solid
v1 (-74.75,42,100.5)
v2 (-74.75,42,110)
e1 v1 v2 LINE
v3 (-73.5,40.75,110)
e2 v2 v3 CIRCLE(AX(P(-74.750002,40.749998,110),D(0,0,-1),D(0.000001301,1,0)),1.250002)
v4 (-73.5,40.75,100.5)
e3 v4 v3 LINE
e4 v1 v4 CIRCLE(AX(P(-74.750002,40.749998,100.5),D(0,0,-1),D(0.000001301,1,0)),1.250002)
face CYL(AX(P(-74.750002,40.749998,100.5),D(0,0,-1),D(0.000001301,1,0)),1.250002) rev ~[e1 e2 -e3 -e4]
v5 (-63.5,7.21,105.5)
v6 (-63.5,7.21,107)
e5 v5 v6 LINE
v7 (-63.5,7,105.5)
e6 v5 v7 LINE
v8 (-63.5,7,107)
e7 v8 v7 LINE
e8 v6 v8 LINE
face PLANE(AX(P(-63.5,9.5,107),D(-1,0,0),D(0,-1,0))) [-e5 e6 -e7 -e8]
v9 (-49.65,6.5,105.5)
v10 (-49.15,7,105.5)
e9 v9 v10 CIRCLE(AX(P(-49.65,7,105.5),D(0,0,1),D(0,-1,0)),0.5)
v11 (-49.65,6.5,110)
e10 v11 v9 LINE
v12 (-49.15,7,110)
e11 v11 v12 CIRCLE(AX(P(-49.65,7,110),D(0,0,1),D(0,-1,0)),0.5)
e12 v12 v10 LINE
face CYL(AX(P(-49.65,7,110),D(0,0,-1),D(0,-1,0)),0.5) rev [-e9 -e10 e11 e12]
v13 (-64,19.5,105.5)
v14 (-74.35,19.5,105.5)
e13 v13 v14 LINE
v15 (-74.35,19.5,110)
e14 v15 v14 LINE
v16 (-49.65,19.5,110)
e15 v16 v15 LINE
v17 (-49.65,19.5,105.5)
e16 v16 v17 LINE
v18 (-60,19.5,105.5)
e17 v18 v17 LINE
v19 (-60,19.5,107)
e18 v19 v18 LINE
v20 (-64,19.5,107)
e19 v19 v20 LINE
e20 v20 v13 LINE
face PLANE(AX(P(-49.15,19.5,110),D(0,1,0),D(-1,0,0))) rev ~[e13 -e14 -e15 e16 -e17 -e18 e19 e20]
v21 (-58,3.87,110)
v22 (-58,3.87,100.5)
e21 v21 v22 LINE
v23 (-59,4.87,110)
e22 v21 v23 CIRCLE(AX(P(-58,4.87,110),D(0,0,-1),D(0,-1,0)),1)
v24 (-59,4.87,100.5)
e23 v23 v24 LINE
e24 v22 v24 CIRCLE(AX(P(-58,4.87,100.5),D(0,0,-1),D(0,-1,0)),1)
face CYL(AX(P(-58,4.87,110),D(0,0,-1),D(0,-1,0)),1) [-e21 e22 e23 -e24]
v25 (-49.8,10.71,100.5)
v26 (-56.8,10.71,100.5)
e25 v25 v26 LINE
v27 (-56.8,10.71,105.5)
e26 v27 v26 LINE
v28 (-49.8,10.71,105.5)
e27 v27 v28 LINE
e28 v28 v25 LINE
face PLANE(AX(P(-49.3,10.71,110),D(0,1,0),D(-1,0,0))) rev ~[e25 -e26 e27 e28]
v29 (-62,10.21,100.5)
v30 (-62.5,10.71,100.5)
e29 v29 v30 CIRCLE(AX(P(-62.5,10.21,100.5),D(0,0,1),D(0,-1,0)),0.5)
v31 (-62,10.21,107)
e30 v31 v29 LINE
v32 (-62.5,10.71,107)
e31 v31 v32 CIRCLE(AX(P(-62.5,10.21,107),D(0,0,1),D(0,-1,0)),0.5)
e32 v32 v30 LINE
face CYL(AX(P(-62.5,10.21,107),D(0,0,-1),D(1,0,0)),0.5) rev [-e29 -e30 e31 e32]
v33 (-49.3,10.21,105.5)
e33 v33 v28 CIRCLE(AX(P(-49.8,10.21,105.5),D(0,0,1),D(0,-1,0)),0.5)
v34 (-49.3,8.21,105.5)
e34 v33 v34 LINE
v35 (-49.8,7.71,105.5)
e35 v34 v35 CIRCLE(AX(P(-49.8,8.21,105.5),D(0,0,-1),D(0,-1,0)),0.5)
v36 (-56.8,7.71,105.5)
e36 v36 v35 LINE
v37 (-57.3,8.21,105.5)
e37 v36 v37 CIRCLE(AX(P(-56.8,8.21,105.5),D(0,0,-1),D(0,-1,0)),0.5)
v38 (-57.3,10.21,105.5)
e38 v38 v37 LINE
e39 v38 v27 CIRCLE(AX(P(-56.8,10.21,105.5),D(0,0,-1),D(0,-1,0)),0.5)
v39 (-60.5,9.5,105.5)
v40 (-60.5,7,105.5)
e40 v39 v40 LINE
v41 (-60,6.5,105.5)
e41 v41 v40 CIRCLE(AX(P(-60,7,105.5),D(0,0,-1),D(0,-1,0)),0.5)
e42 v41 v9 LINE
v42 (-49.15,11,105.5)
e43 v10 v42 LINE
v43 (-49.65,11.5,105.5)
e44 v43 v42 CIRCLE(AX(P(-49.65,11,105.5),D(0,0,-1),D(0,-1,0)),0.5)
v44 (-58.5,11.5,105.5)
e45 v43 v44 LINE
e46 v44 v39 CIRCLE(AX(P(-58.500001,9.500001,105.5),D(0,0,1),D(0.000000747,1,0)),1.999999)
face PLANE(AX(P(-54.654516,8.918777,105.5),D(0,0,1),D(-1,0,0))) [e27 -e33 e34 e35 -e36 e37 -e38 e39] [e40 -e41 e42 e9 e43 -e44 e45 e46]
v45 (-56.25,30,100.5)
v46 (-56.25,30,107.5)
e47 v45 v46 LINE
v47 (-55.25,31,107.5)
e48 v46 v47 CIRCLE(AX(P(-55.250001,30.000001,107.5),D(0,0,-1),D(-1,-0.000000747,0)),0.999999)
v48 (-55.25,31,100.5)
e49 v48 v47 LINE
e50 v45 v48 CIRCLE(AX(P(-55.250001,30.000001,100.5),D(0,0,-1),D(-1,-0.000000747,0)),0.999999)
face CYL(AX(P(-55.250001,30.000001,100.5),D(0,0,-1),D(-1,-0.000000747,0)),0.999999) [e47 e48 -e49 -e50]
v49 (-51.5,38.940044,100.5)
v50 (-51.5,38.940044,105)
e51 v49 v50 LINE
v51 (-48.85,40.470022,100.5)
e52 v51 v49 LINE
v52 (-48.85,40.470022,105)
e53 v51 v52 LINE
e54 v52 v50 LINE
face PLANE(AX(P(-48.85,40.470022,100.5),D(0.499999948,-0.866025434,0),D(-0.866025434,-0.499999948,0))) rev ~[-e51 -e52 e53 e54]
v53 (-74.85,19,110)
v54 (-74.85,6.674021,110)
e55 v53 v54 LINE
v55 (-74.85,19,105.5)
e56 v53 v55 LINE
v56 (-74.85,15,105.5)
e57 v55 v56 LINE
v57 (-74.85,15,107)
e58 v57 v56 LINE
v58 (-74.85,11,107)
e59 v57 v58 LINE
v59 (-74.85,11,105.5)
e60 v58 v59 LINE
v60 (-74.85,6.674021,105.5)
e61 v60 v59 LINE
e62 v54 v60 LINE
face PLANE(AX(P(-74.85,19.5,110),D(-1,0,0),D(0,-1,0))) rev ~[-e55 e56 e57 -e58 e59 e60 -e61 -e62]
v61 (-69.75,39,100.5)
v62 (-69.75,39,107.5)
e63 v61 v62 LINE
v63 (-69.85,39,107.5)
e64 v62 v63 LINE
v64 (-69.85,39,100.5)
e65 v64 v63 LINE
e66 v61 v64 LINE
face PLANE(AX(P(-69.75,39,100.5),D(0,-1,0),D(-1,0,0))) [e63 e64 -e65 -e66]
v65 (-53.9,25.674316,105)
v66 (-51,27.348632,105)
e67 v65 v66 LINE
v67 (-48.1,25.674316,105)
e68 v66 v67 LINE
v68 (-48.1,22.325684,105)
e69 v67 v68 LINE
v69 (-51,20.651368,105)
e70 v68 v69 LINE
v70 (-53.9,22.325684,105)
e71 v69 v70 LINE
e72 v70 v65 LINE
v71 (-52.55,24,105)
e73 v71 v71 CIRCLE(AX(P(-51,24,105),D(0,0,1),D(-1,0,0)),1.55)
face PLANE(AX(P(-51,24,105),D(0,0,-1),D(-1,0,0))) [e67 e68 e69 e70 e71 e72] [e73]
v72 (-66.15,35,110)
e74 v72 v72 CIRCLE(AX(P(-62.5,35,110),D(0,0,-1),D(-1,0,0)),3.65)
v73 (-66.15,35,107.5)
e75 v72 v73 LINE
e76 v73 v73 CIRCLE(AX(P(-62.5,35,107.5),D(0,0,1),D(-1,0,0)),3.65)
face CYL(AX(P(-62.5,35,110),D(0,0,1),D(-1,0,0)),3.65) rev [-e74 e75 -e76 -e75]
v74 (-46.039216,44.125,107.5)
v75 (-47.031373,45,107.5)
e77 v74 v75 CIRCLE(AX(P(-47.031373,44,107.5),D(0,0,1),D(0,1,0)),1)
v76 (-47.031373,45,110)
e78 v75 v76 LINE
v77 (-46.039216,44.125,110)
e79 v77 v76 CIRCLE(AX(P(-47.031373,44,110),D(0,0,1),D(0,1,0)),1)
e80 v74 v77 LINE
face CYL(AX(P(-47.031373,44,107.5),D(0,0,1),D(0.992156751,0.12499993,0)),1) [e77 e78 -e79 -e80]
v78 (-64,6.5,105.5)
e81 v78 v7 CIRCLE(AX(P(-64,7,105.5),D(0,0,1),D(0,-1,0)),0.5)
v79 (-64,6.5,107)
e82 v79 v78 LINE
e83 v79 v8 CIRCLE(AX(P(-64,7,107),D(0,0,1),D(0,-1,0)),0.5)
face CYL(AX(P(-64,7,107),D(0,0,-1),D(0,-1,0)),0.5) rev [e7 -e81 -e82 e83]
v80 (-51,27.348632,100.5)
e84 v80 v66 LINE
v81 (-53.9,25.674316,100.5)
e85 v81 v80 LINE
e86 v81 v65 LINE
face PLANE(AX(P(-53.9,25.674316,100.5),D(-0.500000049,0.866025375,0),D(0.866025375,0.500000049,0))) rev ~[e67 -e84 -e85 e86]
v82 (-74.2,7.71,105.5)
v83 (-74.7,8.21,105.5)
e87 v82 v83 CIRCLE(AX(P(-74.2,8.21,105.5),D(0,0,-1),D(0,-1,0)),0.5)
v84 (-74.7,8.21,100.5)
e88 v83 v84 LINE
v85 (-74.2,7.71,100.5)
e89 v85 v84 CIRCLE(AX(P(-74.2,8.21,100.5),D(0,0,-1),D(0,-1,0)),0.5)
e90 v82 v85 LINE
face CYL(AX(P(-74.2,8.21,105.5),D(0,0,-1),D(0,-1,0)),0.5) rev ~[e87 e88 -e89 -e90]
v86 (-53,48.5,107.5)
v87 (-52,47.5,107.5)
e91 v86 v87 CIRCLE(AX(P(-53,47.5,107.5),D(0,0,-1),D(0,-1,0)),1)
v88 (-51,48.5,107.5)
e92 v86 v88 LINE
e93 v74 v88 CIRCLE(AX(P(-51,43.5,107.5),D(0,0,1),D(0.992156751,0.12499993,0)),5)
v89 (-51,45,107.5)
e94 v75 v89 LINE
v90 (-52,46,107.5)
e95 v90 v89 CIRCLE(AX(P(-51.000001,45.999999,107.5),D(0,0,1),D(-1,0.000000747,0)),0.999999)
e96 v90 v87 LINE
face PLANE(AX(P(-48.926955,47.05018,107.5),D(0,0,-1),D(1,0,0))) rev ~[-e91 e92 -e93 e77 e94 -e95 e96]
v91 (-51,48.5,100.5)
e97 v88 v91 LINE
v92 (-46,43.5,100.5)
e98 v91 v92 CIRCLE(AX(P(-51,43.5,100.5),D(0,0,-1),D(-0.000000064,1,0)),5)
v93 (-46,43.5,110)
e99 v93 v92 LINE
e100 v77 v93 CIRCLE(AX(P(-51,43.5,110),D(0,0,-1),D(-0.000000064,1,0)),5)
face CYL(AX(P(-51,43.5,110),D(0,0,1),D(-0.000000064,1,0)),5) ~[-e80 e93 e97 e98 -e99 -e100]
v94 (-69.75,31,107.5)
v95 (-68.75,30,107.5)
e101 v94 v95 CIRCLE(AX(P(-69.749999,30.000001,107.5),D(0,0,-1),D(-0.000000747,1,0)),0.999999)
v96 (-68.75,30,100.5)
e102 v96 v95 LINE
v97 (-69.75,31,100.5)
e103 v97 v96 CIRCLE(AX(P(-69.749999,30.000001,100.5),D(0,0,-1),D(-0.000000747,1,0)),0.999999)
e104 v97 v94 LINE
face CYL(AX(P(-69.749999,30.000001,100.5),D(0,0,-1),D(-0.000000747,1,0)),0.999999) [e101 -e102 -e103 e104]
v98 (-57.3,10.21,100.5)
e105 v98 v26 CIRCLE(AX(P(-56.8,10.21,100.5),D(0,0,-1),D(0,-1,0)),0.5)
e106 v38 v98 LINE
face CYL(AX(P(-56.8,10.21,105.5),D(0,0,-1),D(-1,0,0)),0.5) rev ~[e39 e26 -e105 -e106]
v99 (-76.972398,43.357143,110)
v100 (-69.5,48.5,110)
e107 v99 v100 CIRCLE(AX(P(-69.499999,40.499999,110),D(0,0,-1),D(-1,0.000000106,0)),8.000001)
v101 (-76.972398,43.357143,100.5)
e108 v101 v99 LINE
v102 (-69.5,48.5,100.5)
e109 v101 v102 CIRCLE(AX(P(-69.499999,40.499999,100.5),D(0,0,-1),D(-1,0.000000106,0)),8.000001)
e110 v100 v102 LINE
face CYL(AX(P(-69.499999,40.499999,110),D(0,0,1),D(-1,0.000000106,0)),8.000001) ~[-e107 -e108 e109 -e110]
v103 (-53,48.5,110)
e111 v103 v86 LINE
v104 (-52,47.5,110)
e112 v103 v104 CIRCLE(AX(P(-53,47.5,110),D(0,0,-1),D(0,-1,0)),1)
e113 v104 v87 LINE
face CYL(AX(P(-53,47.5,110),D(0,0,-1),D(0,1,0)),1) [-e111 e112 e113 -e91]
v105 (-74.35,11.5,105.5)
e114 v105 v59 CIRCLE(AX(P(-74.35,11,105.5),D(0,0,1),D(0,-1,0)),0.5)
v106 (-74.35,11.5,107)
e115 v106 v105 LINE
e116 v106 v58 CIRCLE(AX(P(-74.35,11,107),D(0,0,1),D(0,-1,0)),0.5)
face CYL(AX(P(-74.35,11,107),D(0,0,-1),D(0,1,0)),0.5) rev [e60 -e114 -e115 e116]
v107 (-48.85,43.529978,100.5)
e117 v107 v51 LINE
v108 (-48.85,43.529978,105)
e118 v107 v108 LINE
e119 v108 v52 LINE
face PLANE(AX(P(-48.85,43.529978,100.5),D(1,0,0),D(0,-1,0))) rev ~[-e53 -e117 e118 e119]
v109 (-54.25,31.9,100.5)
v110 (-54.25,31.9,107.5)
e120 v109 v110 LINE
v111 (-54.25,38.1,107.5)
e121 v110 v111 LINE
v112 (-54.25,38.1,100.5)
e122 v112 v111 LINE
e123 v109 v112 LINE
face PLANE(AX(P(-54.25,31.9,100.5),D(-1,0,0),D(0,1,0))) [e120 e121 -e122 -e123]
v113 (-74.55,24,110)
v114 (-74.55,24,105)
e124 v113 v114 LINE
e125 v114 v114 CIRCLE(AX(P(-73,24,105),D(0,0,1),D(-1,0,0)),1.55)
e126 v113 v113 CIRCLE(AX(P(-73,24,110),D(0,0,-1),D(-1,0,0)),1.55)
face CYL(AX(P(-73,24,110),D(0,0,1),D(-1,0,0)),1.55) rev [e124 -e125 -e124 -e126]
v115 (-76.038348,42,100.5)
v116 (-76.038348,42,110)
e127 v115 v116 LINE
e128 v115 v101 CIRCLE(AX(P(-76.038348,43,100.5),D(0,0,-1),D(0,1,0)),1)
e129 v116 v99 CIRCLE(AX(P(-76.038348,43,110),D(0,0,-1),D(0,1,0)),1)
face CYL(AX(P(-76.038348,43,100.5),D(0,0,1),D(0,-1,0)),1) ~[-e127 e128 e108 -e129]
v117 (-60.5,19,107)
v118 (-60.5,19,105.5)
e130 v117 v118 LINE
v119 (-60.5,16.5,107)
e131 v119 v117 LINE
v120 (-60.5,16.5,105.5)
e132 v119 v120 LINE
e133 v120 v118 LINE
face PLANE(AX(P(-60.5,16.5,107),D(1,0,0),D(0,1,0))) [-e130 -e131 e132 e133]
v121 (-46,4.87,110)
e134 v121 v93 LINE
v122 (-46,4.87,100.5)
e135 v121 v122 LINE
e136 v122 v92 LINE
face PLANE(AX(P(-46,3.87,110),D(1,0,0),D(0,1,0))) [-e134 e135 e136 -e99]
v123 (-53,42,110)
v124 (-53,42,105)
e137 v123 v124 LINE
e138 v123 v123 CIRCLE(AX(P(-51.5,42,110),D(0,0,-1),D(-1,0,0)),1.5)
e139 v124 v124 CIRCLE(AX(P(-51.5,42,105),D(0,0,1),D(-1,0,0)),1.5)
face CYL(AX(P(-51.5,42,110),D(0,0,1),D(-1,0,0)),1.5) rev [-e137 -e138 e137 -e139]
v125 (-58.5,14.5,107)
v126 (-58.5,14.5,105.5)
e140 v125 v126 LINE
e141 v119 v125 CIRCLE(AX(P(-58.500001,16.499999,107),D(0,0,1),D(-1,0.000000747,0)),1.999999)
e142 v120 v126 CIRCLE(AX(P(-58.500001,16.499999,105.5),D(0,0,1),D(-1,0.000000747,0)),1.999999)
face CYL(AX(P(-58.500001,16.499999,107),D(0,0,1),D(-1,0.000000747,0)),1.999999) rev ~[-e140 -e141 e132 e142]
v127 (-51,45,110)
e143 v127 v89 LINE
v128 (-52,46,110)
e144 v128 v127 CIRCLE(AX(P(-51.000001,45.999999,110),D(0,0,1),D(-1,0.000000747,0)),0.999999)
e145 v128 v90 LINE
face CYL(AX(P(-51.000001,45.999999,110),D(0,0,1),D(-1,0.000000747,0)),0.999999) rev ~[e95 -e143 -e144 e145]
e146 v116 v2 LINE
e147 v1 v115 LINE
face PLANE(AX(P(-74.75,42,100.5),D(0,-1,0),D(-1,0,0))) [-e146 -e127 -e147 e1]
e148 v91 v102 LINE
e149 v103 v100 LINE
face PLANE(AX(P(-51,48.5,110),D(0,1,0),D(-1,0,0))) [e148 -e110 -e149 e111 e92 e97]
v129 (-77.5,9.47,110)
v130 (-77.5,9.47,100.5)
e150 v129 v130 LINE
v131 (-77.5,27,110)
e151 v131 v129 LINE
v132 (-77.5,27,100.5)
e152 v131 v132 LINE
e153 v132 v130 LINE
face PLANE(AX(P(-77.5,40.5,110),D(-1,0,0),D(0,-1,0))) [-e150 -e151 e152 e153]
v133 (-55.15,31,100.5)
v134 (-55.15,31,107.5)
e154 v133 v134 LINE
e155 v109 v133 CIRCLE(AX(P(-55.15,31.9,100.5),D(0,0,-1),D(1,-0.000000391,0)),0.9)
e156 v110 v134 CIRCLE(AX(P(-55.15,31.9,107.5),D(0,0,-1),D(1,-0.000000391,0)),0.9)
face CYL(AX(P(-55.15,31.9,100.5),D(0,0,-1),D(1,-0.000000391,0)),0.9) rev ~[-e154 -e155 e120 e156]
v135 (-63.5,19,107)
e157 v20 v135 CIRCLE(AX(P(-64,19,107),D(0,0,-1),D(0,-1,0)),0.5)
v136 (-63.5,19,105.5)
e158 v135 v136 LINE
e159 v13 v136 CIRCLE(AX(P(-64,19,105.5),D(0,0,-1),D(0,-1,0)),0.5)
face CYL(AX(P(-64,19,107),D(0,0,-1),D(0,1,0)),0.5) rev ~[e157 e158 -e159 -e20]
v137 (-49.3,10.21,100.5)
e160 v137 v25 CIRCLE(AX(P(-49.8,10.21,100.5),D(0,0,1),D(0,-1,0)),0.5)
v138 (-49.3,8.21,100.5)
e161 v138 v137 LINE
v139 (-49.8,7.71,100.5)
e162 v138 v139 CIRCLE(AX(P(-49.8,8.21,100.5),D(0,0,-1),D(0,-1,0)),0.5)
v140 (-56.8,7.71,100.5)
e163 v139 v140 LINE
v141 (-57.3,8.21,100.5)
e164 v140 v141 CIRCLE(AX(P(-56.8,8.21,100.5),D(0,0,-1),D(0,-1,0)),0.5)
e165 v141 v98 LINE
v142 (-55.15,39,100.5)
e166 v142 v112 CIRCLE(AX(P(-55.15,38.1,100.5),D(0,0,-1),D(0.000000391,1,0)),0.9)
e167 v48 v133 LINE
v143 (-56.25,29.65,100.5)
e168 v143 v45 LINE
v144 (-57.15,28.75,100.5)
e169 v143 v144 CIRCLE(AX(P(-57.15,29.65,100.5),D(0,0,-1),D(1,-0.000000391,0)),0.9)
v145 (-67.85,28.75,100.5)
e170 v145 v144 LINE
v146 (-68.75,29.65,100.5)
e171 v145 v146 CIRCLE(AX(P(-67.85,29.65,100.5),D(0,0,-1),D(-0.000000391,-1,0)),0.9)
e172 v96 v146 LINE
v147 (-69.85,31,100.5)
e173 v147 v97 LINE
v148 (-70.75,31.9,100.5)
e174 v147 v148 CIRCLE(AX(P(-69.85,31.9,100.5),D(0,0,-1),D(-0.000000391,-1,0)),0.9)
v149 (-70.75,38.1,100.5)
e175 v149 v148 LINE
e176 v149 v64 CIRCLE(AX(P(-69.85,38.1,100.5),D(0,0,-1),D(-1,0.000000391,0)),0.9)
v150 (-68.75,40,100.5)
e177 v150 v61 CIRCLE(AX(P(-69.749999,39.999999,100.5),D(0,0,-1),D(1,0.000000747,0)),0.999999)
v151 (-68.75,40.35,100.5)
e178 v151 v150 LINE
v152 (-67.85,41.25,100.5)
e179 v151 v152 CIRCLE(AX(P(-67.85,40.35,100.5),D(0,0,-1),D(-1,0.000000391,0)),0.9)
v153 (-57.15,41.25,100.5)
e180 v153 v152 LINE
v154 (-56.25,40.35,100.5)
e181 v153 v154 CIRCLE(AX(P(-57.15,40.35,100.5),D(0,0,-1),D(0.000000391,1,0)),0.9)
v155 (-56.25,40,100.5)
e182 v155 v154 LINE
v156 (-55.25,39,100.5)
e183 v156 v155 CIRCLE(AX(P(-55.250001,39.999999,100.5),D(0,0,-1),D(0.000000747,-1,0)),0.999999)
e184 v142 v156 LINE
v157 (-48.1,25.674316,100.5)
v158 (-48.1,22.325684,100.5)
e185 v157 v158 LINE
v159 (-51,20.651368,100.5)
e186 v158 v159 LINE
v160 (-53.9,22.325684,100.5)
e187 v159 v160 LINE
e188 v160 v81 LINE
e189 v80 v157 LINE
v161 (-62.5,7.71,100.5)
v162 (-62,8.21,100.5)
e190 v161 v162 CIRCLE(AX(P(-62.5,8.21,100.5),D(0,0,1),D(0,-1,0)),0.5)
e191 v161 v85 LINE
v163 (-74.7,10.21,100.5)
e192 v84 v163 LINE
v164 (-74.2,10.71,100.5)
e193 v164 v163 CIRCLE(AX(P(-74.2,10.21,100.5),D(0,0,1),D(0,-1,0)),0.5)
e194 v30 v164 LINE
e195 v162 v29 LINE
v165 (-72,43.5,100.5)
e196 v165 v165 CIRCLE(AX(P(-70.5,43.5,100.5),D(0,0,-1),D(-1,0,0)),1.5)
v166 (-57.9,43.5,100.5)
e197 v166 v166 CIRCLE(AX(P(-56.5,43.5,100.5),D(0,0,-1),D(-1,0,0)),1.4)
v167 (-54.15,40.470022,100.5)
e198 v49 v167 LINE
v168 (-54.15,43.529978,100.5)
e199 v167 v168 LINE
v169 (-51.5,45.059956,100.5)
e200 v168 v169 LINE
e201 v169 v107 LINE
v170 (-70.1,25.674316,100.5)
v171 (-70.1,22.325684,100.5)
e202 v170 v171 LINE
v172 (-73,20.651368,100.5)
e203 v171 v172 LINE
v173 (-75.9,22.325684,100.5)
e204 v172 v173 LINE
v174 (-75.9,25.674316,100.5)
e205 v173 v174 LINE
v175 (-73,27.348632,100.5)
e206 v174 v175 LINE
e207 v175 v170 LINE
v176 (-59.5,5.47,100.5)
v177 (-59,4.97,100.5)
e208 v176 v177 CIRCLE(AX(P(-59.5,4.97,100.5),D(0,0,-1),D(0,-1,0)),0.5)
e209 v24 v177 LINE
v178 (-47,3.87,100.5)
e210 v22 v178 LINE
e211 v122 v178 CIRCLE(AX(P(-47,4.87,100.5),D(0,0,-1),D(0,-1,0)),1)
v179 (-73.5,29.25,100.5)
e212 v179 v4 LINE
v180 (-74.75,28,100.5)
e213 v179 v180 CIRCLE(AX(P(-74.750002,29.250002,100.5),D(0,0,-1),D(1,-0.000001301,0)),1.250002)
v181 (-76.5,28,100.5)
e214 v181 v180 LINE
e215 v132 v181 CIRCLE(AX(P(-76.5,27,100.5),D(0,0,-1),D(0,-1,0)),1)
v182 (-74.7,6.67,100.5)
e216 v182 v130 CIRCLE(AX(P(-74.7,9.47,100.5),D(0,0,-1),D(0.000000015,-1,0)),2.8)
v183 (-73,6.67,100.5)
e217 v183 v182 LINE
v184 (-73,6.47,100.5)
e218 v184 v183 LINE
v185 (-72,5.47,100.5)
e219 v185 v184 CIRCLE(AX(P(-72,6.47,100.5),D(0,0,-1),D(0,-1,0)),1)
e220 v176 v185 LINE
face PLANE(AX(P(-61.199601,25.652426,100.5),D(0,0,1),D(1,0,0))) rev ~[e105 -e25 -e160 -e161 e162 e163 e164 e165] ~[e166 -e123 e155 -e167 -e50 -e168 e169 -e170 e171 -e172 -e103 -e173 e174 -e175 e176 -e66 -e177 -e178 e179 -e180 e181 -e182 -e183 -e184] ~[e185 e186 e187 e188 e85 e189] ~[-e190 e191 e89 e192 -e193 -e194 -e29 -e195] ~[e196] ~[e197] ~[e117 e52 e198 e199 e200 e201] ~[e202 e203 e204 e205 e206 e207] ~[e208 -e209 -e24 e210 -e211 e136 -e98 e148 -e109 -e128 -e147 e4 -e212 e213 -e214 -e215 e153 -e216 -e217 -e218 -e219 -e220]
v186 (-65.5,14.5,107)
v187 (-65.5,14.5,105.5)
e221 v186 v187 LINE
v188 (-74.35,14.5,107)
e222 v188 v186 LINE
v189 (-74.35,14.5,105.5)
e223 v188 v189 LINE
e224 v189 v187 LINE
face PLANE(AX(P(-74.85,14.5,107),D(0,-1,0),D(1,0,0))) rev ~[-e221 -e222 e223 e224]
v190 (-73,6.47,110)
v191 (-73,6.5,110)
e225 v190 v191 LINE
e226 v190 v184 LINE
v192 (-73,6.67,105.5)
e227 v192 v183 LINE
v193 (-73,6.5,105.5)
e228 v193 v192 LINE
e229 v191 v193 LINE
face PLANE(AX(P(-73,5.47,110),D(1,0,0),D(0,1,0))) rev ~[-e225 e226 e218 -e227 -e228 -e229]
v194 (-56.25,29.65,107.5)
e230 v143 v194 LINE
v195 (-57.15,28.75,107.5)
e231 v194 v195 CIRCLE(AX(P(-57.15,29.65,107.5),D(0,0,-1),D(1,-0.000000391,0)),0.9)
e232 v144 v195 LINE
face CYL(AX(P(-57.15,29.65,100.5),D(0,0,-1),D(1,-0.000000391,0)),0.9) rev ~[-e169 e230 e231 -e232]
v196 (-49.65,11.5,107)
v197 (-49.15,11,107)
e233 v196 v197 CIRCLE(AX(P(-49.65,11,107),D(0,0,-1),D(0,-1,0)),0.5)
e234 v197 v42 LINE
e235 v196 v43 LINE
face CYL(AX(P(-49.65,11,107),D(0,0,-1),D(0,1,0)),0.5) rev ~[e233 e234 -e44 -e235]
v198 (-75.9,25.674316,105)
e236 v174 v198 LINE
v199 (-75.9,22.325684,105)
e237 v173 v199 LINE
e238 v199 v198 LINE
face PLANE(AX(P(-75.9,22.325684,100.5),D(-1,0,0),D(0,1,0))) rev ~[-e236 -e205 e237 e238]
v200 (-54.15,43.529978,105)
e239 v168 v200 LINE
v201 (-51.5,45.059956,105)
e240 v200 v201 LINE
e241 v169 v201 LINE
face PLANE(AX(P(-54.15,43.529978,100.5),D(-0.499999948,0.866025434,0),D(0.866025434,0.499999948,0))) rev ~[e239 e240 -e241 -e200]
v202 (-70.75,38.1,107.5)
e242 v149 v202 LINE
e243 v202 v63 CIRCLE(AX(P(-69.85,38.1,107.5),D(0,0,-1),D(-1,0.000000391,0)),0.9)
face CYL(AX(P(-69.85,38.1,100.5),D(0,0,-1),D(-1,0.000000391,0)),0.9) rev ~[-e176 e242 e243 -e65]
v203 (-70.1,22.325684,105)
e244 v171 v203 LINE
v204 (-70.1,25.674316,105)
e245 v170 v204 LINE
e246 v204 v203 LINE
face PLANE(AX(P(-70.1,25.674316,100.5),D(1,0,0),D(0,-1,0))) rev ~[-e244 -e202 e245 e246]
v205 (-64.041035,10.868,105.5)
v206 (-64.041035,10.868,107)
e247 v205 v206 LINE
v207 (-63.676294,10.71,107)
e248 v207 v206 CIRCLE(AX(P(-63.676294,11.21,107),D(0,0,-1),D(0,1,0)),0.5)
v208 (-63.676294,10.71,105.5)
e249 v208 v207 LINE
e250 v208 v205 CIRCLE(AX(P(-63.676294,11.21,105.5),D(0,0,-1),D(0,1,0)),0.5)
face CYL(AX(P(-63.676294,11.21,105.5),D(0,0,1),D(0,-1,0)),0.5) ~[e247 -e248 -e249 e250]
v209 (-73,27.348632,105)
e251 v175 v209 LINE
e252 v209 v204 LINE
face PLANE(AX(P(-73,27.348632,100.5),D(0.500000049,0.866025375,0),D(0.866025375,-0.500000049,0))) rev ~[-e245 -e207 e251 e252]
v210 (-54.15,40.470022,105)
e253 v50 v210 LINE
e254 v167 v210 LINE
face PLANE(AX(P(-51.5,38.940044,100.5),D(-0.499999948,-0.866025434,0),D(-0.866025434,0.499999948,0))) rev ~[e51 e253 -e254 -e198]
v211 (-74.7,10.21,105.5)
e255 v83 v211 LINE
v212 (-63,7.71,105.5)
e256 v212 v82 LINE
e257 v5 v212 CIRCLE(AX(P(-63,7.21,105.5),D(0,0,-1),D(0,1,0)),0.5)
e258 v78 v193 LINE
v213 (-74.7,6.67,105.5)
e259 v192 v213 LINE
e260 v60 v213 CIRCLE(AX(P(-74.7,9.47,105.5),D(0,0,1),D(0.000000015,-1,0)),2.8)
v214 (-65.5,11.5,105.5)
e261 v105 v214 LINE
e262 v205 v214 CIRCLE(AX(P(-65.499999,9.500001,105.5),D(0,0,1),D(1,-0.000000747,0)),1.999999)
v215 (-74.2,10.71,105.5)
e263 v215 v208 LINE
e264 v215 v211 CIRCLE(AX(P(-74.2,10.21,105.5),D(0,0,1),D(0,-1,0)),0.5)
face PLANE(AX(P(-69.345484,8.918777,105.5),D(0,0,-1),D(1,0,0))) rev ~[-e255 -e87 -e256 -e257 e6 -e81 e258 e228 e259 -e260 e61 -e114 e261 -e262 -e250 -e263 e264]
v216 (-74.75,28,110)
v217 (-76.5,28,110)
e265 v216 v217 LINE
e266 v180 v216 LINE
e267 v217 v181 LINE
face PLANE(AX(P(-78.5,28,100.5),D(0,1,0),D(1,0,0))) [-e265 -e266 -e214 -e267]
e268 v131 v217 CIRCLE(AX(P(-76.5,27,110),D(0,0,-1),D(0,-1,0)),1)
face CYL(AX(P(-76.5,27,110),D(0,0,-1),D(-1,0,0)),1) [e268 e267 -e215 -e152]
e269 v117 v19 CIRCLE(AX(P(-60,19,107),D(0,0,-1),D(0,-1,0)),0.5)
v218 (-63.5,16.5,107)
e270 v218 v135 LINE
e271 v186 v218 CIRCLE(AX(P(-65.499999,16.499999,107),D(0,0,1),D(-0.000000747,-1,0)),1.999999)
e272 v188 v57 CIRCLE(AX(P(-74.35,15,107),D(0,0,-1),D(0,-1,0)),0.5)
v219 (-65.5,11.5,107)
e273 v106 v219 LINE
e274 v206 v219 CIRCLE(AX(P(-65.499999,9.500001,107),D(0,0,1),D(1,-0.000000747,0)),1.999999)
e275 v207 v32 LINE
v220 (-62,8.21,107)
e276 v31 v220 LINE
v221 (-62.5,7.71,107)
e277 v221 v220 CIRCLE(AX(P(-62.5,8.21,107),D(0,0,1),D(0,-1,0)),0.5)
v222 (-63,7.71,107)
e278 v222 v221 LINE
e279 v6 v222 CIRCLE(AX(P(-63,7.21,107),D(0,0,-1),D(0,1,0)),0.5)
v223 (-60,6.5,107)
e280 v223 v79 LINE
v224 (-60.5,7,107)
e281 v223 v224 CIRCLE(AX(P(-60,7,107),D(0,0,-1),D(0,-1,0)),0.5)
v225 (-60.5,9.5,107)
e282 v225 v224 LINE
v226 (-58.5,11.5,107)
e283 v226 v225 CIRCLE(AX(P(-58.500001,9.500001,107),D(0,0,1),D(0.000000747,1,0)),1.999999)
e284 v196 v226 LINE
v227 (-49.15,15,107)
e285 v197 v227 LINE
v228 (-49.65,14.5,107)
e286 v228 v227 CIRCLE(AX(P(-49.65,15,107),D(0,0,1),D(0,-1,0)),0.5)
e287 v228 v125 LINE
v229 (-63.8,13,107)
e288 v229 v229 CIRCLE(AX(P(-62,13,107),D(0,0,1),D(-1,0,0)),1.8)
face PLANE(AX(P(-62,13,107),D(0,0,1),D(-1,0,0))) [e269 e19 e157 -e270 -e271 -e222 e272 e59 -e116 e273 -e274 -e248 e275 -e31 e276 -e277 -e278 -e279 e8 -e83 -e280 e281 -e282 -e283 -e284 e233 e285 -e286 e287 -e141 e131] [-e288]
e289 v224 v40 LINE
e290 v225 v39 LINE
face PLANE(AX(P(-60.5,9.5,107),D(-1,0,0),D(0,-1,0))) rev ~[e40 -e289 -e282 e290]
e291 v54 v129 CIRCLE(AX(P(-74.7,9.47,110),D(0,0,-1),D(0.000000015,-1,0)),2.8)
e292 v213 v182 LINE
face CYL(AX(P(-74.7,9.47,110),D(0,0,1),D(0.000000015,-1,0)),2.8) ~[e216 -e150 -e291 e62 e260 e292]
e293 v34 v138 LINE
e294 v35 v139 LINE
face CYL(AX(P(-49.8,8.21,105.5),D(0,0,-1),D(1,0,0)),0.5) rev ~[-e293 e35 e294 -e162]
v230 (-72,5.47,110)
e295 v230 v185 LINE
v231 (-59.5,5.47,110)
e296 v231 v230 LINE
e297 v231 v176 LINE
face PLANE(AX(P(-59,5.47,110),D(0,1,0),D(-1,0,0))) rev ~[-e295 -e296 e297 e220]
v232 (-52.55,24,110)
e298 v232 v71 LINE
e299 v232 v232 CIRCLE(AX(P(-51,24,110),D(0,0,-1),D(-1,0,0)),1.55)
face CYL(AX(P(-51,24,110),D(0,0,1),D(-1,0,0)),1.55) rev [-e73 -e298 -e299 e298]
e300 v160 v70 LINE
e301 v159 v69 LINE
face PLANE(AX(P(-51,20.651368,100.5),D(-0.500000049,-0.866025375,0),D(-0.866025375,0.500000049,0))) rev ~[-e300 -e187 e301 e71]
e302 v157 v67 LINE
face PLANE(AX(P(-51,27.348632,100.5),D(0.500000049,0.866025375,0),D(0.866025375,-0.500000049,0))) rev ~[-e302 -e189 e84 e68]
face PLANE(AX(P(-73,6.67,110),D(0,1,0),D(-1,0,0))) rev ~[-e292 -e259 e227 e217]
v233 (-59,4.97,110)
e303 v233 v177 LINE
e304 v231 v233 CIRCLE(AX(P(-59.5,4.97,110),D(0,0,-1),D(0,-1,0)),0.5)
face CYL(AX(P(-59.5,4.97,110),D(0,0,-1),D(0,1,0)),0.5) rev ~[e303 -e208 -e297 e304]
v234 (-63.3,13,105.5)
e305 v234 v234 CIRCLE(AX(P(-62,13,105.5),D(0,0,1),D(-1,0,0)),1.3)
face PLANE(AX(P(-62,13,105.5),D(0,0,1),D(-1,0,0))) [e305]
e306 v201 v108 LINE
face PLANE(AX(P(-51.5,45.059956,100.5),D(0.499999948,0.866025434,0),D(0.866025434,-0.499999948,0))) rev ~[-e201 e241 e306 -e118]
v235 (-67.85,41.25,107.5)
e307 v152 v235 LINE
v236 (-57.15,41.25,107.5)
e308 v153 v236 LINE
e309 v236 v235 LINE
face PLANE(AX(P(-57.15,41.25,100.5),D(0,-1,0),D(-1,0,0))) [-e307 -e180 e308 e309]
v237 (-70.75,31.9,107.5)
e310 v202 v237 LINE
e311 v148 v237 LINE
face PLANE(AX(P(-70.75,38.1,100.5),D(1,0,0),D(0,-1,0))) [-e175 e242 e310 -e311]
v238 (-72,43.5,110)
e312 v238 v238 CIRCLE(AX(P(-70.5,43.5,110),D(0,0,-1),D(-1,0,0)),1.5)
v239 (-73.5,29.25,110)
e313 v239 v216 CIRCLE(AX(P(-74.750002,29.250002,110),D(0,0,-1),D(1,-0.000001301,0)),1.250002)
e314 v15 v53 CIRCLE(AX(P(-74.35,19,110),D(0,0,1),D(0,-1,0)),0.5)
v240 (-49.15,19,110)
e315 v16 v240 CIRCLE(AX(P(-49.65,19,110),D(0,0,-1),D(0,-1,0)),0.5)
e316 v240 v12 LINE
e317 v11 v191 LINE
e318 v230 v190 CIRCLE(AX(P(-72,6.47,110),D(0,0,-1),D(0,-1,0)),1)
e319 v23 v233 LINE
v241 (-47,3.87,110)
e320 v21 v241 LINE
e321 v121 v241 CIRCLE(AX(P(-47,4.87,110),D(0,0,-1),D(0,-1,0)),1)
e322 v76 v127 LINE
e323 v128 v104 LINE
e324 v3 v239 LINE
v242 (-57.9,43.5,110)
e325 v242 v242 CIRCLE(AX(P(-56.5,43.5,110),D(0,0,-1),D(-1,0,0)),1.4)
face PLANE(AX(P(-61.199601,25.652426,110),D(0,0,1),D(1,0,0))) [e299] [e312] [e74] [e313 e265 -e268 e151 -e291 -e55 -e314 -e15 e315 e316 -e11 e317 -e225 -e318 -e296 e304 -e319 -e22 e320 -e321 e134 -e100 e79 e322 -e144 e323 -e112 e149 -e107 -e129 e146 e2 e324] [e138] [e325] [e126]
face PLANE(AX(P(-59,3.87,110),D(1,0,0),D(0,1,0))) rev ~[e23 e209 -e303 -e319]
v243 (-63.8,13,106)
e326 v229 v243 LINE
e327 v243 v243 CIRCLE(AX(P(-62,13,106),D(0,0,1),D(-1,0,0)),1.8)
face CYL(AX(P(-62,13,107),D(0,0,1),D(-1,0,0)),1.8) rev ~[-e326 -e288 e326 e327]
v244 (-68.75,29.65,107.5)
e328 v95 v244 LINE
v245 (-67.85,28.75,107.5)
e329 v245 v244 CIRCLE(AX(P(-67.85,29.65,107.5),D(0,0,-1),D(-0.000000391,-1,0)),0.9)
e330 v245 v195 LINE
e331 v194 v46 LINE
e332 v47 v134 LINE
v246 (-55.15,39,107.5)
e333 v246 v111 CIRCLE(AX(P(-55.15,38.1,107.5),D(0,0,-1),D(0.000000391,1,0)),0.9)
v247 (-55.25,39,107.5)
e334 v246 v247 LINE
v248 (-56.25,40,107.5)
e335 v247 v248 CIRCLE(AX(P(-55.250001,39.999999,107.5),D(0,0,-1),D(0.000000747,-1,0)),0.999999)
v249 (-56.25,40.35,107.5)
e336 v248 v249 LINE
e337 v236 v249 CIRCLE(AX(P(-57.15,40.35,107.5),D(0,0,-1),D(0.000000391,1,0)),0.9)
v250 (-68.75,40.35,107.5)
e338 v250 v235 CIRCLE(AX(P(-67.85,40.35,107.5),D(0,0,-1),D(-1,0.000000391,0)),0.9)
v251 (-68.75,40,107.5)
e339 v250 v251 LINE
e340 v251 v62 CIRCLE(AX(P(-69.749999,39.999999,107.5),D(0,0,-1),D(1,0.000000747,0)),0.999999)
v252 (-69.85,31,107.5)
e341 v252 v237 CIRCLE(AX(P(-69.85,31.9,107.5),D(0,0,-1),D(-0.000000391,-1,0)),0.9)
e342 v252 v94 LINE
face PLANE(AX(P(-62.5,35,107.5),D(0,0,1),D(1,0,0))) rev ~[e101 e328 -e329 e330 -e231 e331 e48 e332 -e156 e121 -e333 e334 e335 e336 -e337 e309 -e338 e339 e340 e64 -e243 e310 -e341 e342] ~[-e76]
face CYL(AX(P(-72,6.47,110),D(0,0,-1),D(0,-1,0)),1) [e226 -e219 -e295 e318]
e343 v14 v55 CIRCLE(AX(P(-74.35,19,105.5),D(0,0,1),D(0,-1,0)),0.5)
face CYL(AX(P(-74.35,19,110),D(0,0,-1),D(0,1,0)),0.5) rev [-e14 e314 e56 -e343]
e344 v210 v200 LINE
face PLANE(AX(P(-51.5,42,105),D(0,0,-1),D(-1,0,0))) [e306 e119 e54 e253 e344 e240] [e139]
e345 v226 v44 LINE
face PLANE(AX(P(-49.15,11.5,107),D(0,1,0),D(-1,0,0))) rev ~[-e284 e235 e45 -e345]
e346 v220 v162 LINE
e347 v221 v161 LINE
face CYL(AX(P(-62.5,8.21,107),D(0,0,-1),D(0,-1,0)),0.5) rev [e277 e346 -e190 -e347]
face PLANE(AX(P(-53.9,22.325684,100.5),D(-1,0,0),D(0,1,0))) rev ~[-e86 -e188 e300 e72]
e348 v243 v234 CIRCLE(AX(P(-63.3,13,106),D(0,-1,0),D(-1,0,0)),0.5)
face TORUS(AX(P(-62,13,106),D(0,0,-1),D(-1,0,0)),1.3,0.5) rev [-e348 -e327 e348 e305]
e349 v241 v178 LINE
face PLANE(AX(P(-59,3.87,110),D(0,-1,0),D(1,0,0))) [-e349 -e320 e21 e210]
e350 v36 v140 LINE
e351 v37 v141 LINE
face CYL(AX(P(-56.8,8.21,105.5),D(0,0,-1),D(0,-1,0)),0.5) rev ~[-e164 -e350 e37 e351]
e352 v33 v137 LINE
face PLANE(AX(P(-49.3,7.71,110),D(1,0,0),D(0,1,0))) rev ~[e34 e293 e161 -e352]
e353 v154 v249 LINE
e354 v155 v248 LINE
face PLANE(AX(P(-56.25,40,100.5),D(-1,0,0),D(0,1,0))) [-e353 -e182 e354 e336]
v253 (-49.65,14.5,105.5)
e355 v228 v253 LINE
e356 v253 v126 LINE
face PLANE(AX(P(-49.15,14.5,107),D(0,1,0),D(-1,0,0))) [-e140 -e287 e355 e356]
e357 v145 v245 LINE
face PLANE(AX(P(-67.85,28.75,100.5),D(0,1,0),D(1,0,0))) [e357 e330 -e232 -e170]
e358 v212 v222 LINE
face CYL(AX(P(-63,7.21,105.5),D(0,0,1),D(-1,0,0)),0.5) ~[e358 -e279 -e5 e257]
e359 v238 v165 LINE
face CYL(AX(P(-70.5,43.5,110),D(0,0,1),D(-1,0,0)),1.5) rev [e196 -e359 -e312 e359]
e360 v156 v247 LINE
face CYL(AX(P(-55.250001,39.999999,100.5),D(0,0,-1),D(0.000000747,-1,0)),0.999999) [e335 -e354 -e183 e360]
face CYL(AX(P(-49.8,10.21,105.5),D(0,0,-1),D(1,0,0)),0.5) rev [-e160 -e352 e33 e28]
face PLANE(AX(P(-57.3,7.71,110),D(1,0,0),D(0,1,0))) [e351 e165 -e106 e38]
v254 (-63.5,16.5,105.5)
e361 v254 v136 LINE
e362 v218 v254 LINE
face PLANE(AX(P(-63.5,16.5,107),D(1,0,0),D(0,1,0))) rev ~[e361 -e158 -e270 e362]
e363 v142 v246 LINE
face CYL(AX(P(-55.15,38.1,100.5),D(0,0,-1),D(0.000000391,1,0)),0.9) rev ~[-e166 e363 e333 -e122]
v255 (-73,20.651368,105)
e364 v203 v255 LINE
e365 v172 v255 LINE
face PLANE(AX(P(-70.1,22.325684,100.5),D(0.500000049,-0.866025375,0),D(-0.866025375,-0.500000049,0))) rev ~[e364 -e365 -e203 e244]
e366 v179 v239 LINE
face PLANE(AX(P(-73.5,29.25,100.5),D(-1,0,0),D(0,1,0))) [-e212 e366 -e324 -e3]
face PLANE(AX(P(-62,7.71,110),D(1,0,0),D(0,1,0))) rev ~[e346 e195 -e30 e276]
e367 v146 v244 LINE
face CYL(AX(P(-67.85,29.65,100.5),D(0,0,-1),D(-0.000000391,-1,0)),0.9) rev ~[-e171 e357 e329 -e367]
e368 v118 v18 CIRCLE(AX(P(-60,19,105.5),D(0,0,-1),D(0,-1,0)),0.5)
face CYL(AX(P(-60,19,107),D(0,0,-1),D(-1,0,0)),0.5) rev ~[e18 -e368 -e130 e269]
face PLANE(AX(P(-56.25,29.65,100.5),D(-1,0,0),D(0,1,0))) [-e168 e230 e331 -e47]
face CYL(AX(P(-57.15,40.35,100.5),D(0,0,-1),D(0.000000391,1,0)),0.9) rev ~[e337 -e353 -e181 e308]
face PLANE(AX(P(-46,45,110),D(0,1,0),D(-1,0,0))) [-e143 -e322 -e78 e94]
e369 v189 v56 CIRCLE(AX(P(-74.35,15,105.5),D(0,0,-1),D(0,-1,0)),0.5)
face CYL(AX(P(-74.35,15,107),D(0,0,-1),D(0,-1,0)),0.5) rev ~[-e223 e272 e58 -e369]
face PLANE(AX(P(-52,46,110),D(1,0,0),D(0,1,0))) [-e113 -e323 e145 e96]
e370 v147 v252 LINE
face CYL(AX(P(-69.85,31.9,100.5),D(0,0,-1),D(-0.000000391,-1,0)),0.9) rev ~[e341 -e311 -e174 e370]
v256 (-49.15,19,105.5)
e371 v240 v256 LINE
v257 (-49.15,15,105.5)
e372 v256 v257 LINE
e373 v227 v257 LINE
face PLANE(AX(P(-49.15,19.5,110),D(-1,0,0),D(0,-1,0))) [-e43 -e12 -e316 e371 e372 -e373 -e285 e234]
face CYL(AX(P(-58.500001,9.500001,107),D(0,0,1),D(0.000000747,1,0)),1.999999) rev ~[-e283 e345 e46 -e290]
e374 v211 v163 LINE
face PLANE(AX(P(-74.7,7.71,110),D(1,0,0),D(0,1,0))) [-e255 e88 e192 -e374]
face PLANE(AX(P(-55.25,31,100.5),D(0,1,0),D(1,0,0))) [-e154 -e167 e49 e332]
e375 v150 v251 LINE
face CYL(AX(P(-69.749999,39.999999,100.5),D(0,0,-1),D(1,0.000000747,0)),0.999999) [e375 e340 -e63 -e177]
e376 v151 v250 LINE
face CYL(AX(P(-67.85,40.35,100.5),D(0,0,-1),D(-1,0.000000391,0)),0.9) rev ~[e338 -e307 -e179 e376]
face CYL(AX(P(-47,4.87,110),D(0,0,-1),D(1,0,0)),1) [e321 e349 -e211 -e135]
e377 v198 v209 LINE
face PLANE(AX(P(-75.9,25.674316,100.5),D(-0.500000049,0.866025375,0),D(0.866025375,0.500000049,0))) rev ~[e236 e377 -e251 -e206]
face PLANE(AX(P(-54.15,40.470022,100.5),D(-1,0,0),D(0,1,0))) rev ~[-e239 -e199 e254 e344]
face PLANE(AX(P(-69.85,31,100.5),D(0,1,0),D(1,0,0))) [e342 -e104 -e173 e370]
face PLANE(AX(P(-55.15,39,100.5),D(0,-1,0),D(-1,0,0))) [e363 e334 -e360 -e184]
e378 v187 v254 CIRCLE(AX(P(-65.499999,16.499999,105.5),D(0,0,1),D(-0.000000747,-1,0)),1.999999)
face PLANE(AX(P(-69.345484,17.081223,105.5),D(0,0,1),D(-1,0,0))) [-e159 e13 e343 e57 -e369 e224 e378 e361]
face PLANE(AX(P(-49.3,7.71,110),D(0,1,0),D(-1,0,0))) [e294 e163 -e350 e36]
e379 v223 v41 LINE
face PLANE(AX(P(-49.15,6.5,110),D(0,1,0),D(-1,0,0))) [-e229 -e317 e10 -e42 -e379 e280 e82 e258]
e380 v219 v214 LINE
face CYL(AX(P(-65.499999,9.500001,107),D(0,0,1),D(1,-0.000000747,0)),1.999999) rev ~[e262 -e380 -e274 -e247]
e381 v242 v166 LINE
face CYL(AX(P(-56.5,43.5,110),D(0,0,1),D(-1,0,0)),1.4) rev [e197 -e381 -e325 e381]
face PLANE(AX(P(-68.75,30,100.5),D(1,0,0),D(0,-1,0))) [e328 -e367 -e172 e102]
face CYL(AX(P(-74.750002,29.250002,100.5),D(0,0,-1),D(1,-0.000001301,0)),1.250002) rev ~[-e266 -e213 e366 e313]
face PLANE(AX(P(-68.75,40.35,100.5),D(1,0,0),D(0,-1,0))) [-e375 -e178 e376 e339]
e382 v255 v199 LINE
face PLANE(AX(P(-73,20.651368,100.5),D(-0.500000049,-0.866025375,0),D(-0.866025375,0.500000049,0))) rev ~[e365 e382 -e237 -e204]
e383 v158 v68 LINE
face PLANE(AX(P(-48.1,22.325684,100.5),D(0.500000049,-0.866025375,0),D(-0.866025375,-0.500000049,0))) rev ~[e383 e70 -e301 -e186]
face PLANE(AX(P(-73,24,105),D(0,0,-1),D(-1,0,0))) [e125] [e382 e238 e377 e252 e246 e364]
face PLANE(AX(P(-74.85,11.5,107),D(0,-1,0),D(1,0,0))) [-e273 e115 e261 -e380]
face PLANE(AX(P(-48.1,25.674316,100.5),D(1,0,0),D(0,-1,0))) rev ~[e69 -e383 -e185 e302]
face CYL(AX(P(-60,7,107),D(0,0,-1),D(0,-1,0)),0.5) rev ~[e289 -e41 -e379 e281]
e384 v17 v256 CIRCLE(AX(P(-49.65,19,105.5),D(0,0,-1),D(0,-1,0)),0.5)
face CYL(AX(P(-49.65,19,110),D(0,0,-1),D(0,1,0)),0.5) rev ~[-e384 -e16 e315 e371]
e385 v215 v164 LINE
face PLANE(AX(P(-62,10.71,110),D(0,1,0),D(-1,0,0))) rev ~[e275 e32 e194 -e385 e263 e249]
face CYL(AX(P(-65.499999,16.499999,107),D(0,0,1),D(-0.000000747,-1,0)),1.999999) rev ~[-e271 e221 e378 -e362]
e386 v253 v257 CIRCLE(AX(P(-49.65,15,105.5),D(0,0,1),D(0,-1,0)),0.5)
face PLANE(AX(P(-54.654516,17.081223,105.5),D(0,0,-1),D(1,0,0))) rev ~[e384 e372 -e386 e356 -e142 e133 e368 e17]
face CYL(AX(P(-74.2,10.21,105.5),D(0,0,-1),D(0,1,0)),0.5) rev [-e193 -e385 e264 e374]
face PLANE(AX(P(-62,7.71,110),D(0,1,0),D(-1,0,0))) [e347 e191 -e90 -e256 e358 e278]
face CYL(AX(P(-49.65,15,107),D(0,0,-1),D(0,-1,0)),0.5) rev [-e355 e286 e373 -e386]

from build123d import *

# Parameters (mm, degrees)
SKETCH014_R             = 1.55
SKETCH014_R_2           = 1.5
SKETCH014_R_3           = 3.65
SKETCH014_R_4           = 1.4
SKETCH014_W             = 8
SKETCH014_H             = 3
SKETCH014_W_2           = 12.7
PAD002_DEPTH            = 9.5
POCKET009_DEPTH         = 7
POCKET008_DEPTH         = 10
POCKET010_DEPTH         = 4.5
POCKET013_DEPTH         = 4.5
SKETCH015_W             = 25.7
SKETCH015_H             = 13
POCKET014_DEPTH         = 3
POCKET011_DEPTH         = 2.5
SKETCH013_R             = 1.8
POCKET012_DEPTH         = 1.5
FILLET002_R             = 1
FILLET003_R             = 0.5
BODY002_PLACEMENT_ANGLE = 180


with BuildPart() as part:
    # Sketch014 → Pad002 (new body)
    with BuildSketch(Plane.XY):
        with BuildLine():
            Line((-11, 13.5), (7.5, 13.5))
            ThreePointArc((15.5, 5.5), (13.156854, 11.156854), (7.5, 13.5))
            Line((15.5, 5.5), (15.5, -25.53))
            ThreePointArc((12.7, -28.33), (14.679899, -27.509899), (15.5, -25.53))
            Line((11, -28.33), (12.7, -28.33))
            Line((11, -29.53), (11, -28.33))
            Line((-3, -29.53), (11, -29.53))
            Line((-3, -31.13), (-3, -29.53))
            Line((-3, -31.13), (-16, -31.13))
            Line((-16, -31.13), (-16, 8.5))
            ThreePointArc((-11, 13.5), (-14.535534, 12.035534), (-16, 8.5))
        make_face()
        with Locations((-11, -11)):
            Circle(SKETCH014_R, mode=Mode.SUBTRACT)
        with Locations((11, -11)):
            Circle(SKETCH014_R, mode=Mode.SUBTRACT)
        with Locations((8.5, 8.5)):
            Circle(SKETCH014_R_2, mode=Mode.SUBTRACT)
        with Locations((-10.5, 7)):
            Circle(SKETCH014_R_2, mode=Mode.SUBTRACT)
        with Locations((0.5, 0)):
            Circle(SKETCH014_R_3, mode=Mode.SUBTRACT)
        with Locations((-5.5, 8.5)):
            Circle(SKETCH014_R_4, mode=Mode.SUBTRACT)
        with Locations((-8.7, -25.79)):
            Rectangle(SKETCH014_W, SKETCH014_H, mode=Mode.SUBTRACT)
        with Locations((6.35, -25.79)):
            Rectangle(SKETCH014_W_2, SKETCH014_H, mode=Mode.SUBTRACT)
    extrude(amount=PAD002_DEPTH)

    # Sketch012 (on Face27 of Pad002) → Pocket009 (cut)
    with BuildSketch(Plane.XY.offset(9.5)):
        with BuildLine():
            Line((7.85, -4), (7.75, -4))
            ThreePointArc((7.75, -4), (7.042893, -4.292893), (6.75, -5))
            Line((6.75, -5), (6.75, -5.35))
            ThreePointArc((5.85, -6.25), (6.486396, -5.986396), (6.75, -5.35))
            Line((5.85, -6.25), (-4.85, -6.25))
            ThreePointArc((-5.75, -5.35), (-5.486396, -5.986396), (-4.85, -6.25))
            Line((-5.75, -5.35), (-5.75, -5))
            ThreePointArc((-5.75, -5), (-6.042893, -4.292893), (-6.75, -4))
            Line((-6.75, -4), (-6.85, -4))
            ThreePointArc((-7.75, -3.1), (-7.486396, -3.736396), (-6.85, -4))
            Line((-7.75, -3.1), (-7.75, 3.1))
            ThreePointArc((-6.85, 4), (-7.486396, 3.736396), (-7.75, 3.1))
            Line((-6.85, 4), (-6.75, 4))
            ThreePointArc((-6.75, 4), (-6.042893, 4.292893), (-5.75, 5))
            Line((-5.75, 5), (-5.75, 5.35))
            ThreePointArc((-4.85, 6.25), (-5.486396, 5.986396), (-5.75, 5.35))
            Line((-4.85, 6.25), (5.85, 6.25))
            ThreePointArc((6.75, 5.35), (6.486396, 5.986396), (5.85, 6.25))
            Line((6.75, 5.35), (6.75, 5))
            ThreePointArc((6.75, 5), (7.042893, 4.292893), (7.75, 4))
            Line((7.75, 4), (7.85, 4))
            ThreePointArc((8.75, 3.1), (8.486396, 3.736396), (7.85, 4))
            Line((8.75, 3.1), (8.75, -3.1))
            ThreePointArc((7.85, -4), (8.486396, -3.736396), (8.75, -3.1))
        make_face()
    extrude(amount=-POCKET009_DEPTH, mode=Mode.SUBTRACT)

    # Sketch016 (on Face5 of Pocket009) → Pocket008 (cut)
    with BuildSketch(Plane.XY.offset(9.5)):
        with BuildLine():
            Line((12.75, 7), (16.5, 7))
            Line((16.5, 7), (16.5, -7))
            Line((16.5, -7), (12.75, -7))
            ThreePointArc((11.5, -5.75), (11.866117, -6.633883), (12.75, -7))
            Line((11.5, -5.75), (11.5, 5.75))
            ThreePointArc((12.75, 7), (11.866117, 6.633883), (11.5, 5.75))
        make_face()
    extrude(amount=-POCKET008_DEPTH, mode=Mode.SUBTRACT)

    # Sketch017 (on Face5 of Pocket008) → Pocket010 (cut)
    with BuildSketch(Plane.XY.offset(9.5)):
        Polygon((-8.1, -12.674316), (-8.1, -9.325684), (-11, -7.651368), (-13.9, -9.325684), (-13.9, -12.674316), (-11, -14.348632), align=None)
        Polygon((13.9, -12.674316), (13.9, -9.325684), (11, -7.651368), (8.1, -9.325684), (8.1, -12.674316), (11, -14.348632), align=None)
    extrude(amount=-POCKET010_DEPTH, mode=Mode.SUBTRACT)

    # Sketch018 (on Face5 of Pocket010) → Pocket013 (cut)
    with BuildSketch(Plane.XY.offset(9.5)):
        Polygon((-7.85, 5.470022), (-7.85, 8.529978), (-10.5, 10.059956), (-13.15, 8.529978), (-13.15, 5.470022), (-10.5, 3.940044), align=None)
    extrude(amount=-POCKET013_DEPTH, mode=Mode.SUBTRACT)

    # Sketch015 (on Face4 of Pocket013) → Pocket014 (cut)
    with BuildSketch(Plane(origin=(0, 0, 0), x_dir=(1, 0, 0), z_dir=(0, 0, -1))):
        with Locations((0, 22)):
            Rectangle(SKETCH015_W, SKETCH015_H)
    extrude(amount=-POCKET014_DEPTH, mode=Mode.SUBTRACT)

    # Sketch019 → Pocket011 (cut)
    with BuildSketch(Plane(origin=(0, 0, 0), x_dir=(1, 0, 0), z_dir=(0, 0, -1))):
        with BuildLine():
            Line((-16, -10), (-11, -10))
            ThreePointArc((-10, -11), (-10.292893, -10.292893), (-11, -10))
            Line((-10, -11), (-10, -14))
            Line((-10, -14), (-16, -14))
            Line((-16, -14), (-16, -10))
        make_face()
    extrude(amount=-POCKET011_DEPTH, mode=Mode.SUBTRACT)

    # Sketch013 (on Face83 of Pocket011) → Pocket012 (cut)
    with BuildSketch(Plane(origin=(0, 0, 3), x_dir=(1, 0, 0), z_dir=(0, 0, -1))):
        with Locations((0, 22)):
            Circle(SKETCH013_R)
        with BuildLine():
            Line((-12.85, 20.5), (-3.5, 20.5))
            ThreePointArc((-1.5, 18.5), (-2.085786, 19.914214), (-3.5, 20.5))
            Line((-1.5, 18.5), (-1.5, 15.5))
            Line((-1.5, 15.5), (-12.85, 15.5))
            Line((-12.85, 15.5), (-12.85, 20.5))
        make_face()
        with BuildLine():
            Line((1.5, 15.5), (12.85, 15.5))
            Line((12.85, 15.5), (12.85, 20.5))
            Line((12.85, 20.5), (3.5, 20.5))
            ThreePointArc((3.5, 20.5), (2.085786, 19.914214), (1.5, 18.5))
            Line((1.5, 18.5), (1.5, 15.5))
        make_face()
        with BuildLine():
            Line((-12.85, 23.5), (-3.5, 23.5))
            ThreePointArc((-3.5, 23.5), (-2.085786, 24.085786), (-1.5, 25.5))
            Line((-1.5, 25.5), (-1.5, 28.5))
            Line((-1.5, 28.5), (-12.85, 28.5))
            Line((-12.85, 28.5), (-12.85, 23.5))
        make_face()
        with BuildLine():
            Line((1.5, 28.5), (12.85, 28.5))
            Line((12.85, 28.5), (12.85, 23.5))
            Line((12.85, 23.5), (3.5, 23.5))
            ThreePointArc((1.5, 25.5), (2.085786, 24.085786), (3.5, 23.5))
            Line((1.5, 25.5), (1.5, 28.5))
        make_face()
    extrude(amount=-POCKET012_DEPTH, mode=Mode.SUBTRACT)

    # Fillet002
    fillet002_edges = [part.edges().sort_by_distance(p)[0] for p in [
        (15.358117, 7, 4.75),
        (15.5, -7, 4.75),
        (11, -29.53, 4.75),
        (-3, -31.13, 4.75),
        (-16, -31.13, 4.75),
        (-15.769696, 10, 1.25),
        (-10, 13.5, 1.25),
    ]]
    fillet(fillet002_edges, radius=FILLET002_R)

    # Fillet003
    fillet003_edges = [part.edges().sort_by_distance(p)[0] for p in [
        (-3, -29.53, 4.75),
        (-12.85, -15.5, 1.5),
        (-12.85, -15.5, 3.75),
        (1.5, -15.5, 3.75),
        (-12.85, -23.5, 3.75),
        (-12.85, -28.5, 3.75),
        (-12.85, -28.5, 1.5),
        (-12.85, -20.5, 3.75),
        (-12.7, -27.29, 7),
        (-1.5, -15.5, 3.75),
        (-4.7, -24.29, 7),
        (-4.7, -27.29, 7),
        (-12.7, -24.29, 7),
        (-1.5, -28.5, 3.75),
        (1.5, -28.5, 3.75),
        (1.5, -27.29, 3.75),
        (0, -27.29, 6.25),
        (0, -24.29, 6.25),
        (1.907549, -24.29, 3.75),
        (12.85, -20.5, 3.75),
        (12.7, -27.29, 7),
        (12.85, -23.5, 3.75),
        (12.85, -15.5, 3.75),
        (12.85, -15.5, 1.5),
        (12.7, -24.29, 7),
        (-1.8, -22, 4.5),
    ]]
    fillet(fillet003_edges, radius=FILLET003_R)


with BuildPart() as part_1:
    # Body002 placement: moved
    add(part.part.moved(Location((-62, 35, 110))).rotate(Axis((-62, 35, 110), (0, 1, 0)), BODY002_PLACEMENT_ANGLE))


solid = part_1.part
